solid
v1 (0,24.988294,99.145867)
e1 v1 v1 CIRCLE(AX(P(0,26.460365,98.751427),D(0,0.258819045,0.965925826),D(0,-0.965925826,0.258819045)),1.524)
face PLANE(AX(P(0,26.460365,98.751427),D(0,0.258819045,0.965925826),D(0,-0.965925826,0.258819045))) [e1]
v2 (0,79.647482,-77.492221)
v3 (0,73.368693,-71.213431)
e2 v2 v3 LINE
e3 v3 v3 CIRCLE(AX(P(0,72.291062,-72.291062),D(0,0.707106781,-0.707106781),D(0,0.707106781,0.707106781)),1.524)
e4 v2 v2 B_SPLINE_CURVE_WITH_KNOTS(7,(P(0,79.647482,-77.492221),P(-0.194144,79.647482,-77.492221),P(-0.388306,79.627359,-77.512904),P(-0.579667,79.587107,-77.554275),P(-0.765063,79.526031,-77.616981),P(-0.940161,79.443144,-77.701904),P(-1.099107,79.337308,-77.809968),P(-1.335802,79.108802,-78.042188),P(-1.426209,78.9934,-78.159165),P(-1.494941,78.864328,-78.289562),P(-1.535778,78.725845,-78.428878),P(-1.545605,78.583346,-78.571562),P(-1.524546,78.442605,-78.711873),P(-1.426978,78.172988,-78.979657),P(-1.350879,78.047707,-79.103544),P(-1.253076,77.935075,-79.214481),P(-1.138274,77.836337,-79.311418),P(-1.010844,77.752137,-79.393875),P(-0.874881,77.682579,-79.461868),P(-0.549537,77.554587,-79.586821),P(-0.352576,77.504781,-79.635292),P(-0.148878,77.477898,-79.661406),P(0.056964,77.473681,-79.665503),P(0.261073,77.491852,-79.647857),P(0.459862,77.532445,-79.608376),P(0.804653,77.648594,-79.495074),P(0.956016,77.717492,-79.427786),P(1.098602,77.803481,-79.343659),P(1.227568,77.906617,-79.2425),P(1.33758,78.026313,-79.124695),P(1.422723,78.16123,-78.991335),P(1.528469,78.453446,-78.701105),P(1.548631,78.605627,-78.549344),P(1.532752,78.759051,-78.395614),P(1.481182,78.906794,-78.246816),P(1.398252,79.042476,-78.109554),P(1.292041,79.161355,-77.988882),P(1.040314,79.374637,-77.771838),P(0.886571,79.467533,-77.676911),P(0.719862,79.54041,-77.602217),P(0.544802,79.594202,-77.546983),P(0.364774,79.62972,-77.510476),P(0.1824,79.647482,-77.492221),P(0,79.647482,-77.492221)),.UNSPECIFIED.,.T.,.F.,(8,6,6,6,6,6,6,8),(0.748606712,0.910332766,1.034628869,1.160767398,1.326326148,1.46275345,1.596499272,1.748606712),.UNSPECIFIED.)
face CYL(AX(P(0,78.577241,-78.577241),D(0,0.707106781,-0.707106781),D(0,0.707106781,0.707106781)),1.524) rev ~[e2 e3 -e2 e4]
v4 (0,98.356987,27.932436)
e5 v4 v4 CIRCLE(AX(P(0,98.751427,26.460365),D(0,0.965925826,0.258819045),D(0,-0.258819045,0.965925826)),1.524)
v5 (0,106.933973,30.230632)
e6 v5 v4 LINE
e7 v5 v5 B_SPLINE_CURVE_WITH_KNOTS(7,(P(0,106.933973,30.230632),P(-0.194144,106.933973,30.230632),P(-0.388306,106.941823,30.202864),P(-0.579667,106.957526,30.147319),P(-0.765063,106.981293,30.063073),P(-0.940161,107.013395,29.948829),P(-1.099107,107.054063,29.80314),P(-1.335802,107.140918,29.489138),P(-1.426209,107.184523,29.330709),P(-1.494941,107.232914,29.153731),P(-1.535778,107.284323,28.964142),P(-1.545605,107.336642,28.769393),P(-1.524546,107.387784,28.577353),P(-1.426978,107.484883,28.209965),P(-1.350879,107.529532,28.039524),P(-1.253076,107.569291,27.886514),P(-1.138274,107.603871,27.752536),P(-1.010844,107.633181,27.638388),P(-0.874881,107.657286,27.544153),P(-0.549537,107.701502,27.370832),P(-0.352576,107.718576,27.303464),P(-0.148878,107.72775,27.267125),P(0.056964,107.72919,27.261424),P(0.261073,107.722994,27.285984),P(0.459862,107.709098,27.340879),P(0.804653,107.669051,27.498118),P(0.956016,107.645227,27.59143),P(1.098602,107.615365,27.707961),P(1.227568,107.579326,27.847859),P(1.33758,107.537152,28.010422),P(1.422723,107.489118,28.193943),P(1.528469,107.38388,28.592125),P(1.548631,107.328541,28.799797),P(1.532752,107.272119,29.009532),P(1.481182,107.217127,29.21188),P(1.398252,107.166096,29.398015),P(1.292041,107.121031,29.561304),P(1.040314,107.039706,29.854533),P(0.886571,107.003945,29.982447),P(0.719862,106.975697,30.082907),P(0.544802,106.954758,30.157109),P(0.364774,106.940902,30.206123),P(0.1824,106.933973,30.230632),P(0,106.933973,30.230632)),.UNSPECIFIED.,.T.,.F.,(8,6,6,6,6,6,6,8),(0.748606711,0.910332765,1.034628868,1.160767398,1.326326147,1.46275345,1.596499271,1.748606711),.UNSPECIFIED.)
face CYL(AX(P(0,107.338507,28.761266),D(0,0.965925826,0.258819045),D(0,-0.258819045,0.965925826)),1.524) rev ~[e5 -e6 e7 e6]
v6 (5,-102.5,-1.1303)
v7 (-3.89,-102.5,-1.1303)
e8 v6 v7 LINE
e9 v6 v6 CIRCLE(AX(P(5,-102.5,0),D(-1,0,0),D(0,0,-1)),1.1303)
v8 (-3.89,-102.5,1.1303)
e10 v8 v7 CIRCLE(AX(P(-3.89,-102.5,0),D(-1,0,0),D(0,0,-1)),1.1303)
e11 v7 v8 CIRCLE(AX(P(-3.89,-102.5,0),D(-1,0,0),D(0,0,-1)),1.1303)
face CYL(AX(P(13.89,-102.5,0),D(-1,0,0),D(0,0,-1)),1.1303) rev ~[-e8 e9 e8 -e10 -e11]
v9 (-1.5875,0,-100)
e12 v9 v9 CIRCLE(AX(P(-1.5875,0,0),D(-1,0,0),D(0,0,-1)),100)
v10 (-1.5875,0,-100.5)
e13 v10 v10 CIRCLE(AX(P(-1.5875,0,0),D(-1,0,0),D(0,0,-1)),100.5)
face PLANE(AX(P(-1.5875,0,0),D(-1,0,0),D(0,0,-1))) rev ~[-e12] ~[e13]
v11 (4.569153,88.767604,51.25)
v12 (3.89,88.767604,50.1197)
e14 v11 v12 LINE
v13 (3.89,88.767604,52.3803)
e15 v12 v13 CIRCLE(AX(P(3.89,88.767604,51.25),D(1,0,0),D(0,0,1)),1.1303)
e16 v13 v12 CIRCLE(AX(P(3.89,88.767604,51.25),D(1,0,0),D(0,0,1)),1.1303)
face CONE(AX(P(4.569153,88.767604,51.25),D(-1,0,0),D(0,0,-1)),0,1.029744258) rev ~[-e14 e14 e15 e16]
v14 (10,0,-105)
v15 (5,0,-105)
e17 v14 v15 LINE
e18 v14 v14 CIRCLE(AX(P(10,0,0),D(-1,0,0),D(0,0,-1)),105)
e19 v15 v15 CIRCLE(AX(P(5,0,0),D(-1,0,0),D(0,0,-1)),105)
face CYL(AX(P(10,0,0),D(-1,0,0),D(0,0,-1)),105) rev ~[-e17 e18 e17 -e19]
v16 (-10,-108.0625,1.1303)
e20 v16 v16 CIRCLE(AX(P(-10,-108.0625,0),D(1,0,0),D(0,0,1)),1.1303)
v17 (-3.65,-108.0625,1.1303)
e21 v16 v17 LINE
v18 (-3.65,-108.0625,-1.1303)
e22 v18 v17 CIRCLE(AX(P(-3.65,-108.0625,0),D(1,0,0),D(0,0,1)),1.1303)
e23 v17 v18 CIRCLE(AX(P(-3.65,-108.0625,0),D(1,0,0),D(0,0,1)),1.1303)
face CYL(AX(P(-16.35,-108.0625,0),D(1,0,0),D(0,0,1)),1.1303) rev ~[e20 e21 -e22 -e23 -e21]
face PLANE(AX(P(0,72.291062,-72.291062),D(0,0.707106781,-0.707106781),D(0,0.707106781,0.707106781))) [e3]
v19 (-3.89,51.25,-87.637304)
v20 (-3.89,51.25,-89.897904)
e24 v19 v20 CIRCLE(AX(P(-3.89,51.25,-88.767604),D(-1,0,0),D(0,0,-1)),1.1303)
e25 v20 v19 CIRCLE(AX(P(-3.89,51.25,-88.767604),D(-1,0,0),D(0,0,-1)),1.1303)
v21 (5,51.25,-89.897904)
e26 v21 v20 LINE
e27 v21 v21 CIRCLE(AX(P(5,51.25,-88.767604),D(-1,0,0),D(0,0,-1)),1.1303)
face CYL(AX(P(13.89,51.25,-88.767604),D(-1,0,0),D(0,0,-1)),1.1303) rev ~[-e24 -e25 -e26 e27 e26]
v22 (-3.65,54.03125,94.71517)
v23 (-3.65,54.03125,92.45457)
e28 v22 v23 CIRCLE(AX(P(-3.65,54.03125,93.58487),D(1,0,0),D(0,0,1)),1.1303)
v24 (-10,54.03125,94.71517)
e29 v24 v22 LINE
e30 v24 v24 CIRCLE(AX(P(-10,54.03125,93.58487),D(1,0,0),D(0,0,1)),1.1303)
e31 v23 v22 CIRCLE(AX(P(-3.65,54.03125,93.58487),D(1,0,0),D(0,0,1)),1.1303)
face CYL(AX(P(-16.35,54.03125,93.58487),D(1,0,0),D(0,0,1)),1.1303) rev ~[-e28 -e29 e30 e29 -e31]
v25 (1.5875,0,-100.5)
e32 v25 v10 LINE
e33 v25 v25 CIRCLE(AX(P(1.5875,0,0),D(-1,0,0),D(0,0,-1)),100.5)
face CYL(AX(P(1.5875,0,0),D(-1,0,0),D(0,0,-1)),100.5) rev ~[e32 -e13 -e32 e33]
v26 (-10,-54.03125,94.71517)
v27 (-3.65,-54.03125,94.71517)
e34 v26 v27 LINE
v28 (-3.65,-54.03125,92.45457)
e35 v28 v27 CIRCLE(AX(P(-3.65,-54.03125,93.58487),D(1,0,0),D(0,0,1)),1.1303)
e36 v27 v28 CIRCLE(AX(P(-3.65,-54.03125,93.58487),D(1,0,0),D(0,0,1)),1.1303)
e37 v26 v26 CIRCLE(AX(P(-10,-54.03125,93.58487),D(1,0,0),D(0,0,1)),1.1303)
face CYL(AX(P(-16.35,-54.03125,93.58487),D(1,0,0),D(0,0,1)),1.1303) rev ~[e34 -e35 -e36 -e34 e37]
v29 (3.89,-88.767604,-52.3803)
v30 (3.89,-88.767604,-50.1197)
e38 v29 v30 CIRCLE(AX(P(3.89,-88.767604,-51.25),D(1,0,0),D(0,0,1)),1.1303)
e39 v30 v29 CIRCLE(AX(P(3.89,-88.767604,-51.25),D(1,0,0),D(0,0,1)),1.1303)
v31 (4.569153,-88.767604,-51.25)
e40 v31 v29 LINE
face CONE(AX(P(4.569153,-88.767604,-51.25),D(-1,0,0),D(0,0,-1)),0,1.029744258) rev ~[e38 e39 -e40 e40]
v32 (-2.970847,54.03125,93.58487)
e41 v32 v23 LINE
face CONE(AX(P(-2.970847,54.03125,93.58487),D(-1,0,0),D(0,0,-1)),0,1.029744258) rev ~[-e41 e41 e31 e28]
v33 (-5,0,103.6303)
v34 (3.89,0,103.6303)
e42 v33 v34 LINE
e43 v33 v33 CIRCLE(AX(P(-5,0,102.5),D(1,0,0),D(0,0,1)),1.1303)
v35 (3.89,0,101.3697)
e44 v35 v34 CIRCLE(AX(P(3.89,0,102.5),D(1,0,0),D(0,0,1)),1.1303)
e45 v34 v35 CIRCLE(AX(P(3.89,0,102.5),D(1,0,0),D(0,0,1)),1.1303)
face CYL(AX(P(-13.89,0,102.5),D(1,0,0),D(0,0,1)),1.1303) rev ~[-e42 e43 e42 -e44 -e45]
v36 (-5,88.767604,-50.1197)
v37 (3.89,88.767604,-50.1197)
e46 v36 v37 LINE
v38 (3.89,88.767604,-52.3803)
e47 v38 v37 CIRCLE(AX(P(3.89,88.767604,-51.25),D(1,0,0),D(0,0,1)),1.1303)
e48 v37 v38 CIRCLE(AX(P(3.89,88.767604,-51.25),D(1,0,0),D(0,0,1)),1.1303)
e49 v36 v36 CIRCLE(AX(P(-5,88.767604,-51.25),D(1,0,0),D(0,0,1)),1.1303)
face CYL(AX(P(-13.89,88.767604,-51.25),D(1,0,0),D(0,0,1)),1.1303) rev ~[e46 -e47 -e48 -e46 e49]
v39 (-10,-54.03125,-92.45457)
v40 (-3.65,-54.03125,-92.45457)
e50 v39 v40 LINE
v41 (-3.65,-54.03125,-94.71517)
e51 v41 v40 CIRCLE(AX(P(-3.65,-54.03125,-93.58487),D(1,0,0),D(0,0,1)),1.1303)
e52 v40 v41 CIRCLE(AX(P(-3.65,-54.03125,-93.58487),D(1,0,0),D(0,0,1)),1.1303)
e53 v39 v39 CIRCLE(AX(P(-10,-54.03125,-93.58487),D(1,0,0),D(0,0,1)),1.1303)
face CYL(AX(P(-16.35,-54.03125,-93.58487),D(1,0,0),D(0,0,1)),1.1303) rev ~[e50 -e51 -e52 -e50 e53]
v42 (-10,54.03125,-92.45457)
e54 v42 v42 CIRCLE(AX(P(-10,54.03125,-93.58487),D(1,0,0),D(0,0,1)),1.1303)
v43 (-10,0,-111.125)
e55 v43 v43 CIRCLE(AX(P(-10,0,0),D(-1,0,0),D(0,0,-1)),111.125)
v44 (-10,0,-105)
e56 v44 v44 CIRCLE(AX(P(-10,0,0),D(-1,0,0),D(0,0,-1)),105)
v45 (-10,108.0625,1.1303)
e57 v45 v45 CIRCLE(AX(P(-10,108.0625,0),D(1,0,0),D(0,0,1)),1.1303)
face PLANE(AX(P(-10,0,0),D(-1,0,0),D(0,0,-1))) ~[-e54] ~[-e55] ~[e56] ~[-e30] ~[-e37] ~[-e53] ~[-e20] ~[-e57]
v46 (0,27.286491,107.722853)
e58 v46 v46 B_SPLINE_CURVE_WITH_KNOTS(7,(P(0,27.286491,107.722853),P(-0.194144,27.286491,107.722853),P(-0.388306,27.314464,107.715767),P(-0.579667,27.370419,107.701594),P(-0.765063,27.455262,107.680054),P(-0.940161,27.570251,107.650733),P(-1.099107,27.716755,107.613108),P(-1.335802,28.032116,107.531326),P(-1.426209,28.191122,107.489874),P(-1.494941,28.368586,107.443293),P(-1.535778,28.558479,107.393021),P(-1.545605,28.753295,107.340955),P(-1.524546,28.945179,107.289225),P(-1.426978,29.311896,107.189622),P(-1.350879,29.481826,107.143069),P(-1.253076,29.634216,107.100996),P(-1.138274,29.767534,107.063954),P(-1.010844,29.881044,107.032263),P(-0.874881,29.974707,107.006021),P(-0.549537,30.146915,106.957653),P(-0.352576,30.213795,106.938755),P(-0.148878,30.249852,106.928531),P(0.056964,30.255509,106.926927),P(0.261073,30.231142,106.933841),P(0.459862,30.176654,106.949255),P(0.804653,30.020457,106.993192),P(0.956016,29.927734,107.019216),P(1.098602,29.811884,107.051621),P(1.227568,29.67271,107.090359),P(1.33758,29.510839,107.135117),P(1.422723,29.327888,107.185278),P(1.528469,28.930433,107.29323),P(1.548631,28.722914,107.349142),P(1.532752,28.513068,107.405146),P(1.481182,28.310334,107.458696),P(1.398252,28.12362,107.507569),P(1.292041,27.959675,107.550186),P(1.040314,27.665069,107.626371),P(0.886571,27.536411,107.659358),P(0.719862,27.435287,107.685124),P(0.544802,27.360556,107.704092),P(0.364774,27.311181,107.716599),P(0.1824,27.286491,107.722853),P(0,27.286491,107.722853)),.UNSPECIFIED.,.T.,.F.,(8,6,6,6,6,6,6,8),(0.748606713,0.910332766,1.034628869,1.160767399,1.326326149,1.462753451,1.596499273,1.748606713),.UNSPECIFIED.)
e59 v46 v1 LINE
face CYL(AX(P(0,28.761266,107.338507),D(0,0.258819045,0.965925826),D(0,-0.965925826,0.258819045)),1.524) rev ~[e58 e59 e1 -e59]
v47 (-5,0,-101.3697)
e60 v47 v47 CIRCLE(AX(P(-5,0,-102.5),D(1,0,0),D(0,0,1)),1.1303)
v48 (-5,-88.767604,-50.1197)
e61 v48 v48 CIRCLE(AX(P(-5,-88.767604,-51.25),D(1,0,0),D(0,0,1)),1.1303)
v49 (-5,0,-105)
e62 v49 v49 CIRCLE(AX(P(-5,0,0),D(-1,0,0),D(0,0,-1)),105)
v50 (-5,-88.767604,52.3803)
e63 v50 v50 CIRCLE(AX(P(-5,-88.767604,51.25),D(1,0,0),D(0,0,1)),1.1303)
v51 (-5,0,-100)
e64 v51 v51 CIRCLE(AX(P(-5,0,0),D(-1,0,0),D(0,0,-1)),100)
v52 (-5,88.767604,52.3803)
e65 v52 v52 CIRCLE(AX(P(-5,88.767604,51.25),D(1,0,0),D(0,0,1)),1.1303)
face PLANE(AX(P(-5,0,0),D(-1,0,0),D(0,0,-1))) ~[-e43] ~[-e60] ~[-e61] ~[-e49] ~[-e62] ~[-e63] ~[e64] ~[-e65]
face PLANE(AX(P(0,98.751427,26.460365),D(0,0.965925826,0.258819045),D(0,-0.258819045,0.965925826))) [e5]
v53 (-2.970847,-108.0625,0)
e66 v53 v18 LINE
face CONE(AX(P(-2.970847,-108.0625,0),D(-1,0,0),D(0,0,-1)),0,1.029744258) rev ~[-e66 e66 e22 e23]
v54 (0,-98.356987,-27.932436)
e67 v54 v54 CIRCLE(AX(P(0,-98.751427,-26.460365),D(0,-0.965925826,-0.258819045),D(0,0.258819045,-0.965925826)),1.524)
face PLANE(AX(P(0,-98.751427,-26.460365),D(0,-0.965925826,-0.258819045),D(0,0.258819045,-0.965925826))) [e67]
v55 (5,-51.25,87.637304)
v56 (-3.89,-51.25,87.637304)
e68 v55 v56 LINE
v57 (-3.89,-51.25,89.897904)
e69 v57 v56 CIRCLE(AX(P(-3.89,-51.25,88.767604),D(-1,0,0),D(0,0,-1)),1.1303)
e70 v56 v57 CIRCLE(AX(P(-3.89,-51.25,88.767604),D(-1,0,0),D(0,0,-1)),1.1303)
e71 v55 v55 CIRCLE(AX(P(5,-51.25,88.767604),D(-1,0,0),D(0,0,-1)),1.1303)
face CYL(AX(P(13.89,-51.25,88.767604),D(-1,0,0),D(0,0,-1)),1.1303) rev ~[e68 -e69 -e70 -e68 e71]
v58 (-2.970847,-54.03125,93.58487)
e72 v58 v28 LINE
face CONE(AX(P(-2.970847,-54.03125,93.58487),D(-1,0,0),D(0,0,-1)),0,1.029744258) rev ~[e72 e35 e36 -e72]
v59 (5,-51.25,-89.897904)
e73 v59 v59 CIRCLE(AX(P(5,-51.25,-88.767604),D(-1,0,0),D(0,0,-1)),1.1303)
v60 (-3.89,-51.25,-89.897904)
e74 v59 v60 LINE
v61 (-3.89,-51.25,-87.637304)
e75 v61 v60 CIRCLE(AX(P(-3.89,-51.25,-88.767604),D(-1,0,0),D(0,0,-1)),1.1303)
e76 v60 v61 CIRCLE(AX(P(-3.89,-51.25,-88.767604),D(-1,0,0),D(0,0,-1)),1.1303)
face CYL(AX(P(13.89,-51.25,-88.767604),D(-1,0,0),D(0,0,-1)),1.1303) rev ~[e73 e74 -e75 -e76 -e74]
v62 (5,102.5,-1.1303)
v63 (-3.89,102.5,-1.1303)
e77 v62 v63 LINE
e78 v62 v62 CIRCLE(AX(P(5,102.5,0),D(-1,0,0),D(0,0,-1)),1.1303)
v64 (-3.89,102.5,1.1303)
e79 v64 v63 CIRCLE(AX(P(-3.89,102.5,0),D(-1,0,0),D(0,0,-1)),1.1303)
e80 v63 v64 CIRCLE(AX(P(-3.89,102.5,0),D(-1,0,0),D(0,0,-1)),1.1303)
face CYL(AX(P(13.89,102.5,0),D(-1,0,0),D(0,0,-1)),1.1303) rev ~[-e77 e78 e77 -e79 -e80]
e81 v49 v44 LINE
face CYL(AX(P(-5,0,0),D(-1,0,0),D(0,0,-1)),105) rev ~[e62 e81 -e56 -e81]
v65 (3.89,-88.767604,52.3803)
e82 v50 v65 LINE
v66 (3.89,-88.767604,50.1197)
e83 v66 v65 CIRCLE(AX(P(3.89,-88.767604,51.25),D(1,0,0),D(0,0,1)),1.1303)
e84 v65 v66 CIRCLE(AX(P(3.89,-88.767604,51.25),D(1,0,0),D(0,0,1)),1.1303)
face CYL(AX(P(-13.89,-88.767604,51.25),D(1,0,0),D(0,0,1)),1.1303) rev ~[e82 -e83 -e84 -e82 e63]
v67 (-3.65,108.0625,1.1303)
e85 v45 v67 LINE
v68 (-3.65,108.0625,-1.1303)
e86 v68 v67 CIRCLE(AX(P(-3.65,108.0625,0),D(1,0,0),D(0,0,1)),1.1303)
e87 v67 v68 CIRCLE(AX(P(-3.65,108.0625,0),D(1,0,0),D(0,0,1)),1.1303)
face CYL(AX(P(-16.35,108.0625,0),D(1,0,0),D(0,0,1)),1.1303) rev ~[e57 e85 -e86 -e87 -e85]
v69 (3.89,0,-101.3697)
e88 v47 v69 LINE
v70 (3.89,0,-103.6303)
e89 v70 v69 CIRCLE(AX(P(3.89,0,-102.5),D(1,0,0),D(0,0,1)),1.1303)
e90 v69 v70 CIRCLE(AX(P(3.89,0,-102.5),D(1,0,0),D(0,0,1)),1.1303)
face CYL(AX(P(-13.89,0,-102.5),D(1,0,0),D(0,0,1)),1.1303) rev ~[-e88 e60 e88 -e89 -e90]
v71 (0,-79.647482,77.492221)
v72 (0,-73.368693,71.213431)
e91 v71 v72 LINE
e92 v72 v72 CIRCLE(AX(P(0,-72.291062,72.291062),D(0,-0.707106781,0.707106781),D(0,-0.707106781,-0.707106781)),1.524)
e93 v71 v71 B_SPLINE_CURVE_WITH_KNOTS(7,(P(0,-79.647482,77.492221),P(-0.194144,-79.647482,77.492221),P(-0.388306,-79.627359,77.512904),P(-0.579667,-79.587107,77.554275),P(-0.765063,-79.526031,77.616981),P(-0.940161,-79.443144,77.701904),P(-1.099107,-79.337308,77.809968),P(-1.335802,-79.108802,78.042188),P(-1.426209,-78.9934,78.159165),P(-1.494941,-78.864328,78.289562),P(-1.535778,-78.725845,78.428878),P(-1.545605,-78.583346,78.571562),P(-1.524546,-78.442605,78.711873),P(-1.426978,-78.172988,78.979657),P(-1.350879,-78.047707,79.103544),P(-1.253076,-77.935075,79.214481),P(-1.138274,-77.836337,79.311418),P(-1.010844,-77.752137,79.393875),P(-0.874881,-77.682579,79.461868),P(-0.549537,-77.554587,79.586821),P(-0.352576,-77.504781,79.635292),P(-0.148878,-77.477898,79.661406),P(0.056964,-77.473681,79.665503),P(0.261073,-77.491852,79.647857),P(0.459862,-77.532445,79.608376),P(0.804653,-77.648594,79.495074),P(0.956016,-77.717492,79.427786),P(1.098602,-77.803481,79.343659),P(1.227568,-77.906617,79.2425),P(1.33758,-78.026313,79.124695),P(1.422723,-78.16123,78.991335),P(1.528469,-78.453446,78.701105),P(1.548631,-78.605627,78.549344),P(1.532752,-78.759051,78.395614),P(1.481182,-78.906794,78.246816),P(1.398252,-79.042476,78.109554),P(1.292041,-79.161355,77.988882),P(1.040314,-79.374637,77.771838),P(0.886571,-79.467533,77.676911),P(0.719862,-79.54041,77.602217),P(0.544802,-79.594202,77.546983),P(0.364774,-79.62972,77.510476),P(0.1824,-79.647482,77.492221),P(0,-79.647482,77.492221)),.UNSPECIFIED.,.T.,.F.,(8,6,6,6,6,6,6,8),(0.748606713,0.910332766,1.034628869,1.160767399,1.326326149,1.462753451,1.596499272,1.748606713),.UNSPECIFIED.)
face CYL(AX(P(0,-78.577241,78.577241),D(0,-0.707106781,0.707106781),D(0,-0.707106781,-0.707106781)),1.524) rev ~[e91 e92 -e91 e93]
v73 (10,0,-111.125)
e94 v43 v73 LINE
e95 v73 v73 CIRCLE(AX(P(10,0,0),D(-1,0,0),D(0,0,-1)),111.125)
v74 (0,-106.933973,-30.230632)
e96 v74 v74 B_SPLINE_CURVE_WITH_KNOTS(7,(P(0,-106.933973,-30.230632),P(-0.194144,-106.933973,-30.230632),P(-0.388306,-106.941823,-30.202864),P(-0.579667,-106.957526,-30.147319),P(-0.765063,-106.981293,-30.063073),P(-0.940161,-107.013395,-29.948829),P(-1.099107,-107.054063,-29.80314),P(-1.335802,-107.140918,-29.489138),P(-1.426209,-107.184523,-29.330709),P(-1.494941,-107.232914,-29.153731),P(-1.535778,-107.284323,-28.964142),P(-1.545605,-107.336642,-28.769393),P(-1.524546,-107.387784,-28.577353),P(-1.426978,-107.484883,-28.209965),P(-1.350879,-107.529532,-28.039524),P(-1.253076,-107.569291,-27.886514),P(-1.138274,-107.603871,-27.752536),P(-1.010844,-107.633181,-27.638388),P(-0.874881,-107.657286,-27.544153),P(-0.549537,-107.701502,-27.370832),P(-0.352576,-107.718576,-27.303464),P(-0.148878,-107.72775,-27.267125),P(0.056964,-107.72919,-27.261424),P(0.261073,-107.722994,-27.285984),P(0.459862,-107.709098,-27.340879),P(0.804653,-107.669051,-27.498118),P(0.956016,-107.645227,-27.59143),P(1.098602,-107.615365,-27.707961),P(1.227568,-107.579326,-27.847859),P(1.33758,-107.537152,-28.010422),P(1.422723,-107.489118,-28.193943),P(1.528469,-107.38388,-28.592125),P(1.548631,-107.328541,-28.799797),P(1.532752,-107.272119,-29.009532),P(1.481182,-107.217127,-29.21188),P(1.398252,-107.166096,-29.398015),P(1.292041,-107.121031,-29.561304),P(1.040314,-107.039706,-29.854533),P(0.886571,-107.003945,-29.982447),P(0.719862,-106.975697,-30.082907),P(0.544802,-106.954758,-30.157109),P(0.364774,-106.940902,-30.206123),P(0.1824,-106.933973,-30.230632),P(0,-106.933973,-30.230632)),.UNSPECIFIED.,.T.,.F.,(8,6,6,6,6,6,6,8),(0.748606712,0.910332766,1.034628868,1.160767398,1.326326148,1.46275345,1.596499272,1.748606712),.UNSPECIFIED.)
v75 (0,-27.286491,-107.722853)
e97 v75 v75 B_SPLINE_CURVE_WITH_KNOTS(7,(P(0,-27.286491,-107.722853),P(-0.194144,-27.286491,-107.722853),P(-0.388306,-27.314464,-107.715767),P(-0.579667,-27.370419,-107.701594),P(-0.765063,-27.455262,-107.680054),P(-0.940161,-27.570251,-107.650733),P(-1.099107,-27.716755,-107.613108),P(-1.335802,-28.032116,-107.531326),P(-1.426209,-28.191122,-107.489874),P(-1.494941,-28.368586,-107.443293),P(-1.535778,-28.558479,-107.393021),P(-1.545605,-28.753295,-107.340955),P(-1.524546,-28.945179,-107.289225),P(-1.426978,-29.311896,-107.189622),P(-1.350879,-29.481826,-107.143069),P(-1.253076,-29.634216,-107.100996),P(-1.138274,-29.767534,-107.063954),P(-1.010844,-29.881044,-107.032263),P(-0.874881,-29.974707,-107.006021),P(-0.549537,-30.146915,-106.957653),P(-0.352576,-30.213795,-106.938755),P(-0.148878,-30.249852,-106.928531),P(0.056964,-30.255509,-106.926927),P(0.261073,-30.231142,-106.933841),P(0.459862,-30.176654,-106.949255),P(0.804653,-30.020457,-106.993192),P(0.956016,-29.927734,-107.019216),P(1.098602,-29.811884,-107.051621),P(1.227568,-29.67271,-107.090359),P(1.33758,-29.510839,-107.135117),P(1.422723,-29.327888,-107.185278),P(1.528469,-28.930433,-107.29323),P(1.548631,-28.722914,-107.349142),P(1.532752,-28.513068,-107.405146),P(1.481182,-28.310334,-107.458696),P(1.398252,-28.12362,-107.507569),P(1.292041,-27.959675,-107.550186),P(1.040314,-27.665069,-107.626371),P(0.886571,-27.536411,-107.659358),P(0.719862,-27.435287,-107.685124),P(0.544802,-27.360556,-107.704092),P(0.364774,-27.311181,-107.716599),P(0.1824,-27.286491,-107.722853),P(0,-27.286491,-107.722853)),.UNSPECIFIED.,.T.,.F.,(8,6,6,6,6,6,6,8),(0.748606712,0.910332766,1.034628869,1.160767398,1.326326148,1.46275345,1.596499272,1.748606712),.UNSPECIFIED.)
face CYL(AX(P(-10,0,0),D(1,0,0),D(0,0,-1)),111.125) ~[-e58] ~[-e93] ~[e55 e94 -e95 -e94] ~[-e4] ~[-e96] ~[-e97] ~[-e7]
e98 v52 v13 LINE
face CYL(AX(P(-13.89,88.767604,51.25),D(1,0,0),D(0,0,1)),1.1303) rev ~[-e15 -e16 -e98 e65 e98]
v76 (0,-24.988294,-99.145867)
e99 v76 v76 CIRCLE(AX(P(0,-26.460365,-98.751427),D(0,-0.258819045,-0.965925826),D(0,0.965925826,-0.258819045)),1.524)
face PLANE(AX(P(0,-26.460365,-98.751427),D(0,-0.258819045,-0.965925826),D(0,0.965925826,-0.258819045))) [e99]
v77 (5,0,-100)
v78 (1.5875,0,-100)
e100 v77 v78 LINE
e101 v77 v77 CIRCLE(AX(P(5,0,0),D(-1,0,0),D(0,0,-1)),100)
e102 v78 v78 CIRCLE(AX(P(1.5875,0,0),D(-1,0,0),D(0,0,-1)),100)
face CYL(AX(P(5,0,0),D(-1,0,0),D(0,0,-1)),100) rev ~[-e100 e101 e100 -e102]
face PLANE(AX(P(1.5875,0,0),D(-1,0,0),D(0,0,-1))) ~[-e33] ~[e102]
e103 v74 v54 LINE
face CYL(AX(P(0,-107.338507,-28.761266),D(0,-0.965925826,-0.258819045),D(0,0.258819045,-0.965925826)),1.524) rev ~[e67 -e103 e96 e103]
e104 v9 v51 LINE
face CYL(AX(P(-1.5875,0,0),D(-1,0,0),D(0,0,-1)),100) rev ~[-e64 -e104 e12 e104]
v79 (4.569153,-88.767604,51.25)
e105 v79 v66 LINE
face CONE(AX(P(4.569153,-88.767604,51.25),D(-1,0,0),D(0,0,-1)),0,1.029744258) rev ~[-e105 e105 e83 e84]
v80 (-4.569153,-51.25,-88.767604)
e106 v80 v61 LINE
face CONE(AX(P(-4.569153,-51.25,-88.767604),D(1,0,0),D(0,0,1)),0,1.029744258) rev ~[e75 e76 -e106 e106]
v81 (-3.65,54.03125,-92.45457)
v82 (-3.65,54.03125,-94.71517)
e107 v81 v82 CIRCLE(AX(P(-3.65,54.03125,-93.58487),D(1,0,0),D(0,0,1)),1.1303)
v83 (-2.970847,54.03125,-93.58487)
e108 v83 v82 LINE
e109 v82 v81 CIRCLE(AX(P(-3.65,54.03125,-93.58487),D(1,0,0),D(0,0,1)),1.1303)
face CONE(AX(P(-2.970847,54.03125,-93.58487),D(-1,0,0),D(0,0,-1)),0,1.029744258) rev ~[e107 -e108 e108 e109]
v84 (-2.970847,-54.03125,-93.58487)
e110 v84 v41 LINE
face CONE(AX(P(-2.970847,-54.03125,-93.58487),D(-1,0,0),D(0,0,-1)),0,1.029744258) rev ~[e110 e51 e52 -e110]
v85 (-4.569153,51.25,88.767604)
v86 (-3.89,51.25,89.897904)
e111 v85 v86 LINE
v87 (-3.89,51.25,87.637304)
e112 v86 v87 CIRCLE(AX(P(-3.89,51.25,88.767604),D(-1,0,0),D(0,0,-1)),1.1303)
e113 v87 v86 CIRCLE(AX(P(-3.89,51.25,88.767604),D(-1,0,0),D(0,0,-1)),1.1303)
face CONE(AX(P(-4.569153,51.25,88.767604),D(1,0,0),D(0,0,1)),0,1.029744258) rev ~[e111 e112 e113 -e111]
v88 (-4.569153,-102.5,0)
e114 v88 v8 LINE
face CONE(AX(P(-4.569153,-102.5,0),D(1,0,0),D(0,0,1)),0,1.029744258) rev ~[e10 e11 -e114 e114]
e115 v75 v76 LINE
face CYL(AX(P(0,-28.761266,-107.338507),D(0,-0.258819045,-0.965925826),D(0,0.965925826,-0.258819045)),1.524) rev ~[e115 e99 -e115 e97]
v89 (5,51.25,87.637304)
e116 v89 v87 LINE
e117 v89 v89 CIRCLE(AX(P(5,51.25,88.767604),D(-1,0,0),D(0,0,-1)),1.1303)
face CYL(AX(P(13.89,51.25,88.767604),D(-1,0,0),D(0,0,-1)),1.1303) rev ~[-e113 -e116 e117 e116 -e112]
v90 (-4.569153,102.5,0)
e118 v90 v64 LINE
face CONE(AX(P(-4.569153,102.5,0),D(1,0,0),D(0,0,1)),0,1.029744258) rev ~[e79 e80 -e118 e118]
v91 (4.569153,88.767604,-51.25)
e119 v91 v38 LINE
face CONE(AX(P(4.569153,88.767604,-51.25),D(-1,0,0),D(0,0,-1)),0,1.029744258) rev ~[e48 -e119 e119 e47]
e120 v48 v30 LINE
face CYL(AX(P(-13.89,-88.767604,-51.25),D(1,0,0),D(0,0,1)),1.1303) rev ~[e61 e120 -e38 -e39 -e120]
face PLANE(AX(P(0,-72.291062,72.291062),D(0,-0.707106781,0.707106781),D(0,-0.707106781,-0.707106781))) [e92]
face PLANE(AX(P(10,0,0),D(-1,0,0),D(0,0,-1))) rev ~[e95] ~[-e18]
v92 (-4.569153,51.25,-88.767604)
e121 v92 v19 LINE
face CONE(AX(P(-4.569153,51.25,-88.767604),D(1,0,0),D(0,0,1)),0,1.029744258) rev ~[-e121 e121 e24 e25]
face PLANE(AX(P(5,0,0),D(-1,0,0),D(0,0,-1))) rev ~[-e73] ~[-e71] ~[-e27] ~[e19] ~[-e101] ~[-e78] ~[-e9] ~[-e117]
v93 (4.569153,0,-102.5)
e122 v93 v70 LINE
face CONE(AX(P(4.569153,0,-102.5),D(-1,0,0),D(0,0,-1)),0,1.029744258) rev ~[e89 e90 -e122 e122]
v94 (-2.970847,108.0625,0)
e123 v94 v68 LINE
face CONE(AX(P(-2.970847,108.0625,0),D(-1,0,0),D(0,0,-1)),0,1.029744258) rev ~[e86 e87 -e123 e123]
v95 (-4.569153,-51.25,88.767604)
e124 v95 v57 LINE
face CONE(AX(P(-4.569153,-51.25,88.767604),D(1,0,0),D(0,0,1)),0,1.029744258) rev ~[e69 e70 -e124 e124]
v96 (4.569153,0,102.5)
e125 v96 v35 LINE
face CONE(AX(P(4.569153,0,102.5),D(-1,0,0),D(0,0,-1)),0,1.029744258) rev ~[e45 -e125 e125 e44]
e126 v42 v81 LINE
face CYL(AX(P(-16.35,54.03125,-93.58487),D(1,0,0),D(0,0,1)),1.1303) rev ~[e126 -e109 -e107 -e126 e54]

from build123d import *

# Parameters (mm, degrees)
TAP_DRILL_FOR_4_40_TAP2_D     = 2.2606
TAP_DRILL_FOR_4_40_TAP2_DEPTH = 8.89
TAP_DRILL_FOR_4_40_TAP2_TIP   = 0.679152758
TAP_DRILL_FOR_4_40_TAP3_D     = 2.2606
TAP_DRILL_FOR_4_40_TAP3_DEPTH = 8.89
TAP_DRILL_FOR_4_40_TAP3_TIP   = 0.679152758
SKETCH9_R                     = 1.524
CUT_EXTRUDE1_DEPTH            = 8.89
CIRPATTERN1_COUNT             = 6
TAP_DRILL_FOR_4_40_TAP1_D     = 2.2606
TAP_DRILL_FOR_4_40_TAP1_DEPTH = 6.35
TAP_DRILL_FOR_4_40_TAP1_TIP   = 0.679152758


with BuildPart() as part:
    # Sketch3 → Revolve1 (revolve)
    with BuildSketch(Plane(origin=(0, 0, 0), x_dir=(1, 0, 0), z_dir=(0, 1, 0))):
        Polygon((-10, -111.125), (10, -111.125), (10, -105), (5, -105), (5, -100), (1.5875, -100), (1.5875, -100.5), (-1.5875, -100.5), (-1.5875, -100), (-5, -100), (-5, -105), (-10, -105), align=None)
    revolve(axis=Axis((0, 0, 0), (-1, 0, 0)))

    # Tap Drill for #4-40 Tap2
    with Locations(Plane(origin=(5, -102.5, 0), x_dir=(0, 0, 1), z_dir=(1, 0, 0))):
        with Locations((0, 0), (-88.767603888, -51.25), (88.767603888, -51.25), (88.767603888, -153.75), (0, -205), (-88.767603888, -153.75)):
            Hole(TAP_DRILL_FOR_4_40_TAP2_D / 2, depth=TAP_DRILL_FOR_4_40_TAP2_DEPTH)
            with Locations((0, 0, -(TAP_DRILL_FOR_4_40_TAP2_DEPTH + TAP_DRILL_FOR_4_40_TAP2_TIP / 2))):  # 118° drill point
                Cone(0, TAP_DRILL_FOR_4_40_TAP2_D / 2, TAP_DRILL_FOR_4_40_TAP2_TIP, mode=Mode.SUBTRACT)

    # Tap Drill for #4-40 Tap3
    with Locations(Plane(origin=(-5, -88.767603888, 51.25), x_dir=(0, 0, -1), z_dir=(-1, 0, 0))):
        with Locations((0, 0), (-51.25, -88.767603888), (102.5, -177.535207776), (0, -177.535207776), (153.75, -88.767603888), (102.5, 0)):
            Hole(TAP_DRILL_FOR_4_40_TAP3_D / 2, depth=TAP_DRILL_FOR_4_40_TAP3_DEPTH)
            with Locations((0, 0, -(TAP_DRILL_FOR_4_40_TAP3_DEPTH + TAP_DRILL_FOR_4_40_TAP3_TIP / 2))):  # 118° drill point
                Cone(0, TAP_DRILL_FOR_4_40_TAP3_D / 2, TAP_DRILL_FOR_4_40_TAP3_TIP, mode=Mode.SUBTRACT)

    # Sketch9 → Cut-Extrude1 (cut)
    with BuildSketch(Plane(origin=(0, 107.338507446, 28.761266387), x_dir=(-1, 0, 0), z_dir=(0, 0.9659258262890681, 0.25881904510252135))):
        Circle(SKETCH9_R)
    cut_extrude1 = extrude(amount=-CUT_EXTRUDE1_DEPTH, mode=Mode.SUBTRACT)

    # CirPattern1: Cut-Extrude1 ×6 about axis
    cirpattern1_axis = Axis((-10, 0, 0), (1, 0, 0))
    for i in range(1, CIRPATTERN1_COUNT):
        add(cut_extrude1.rotate(cirpattern1_axis, i * 360 / CIRPATTERN1_COUNT), mode=Mode.SUBTRACT)

    # Tap Drill for #4-40 Tap1
    with Locations(Plane(origin=(-10, 108.0625, 0), x_dir=(0, 0, -1), z_dir=(-1, 0, 0))):
        with Locations((0, 0), (-93.584870196, 54.03125), (-93.584870196, 162.09375), (0, 216.125), (93.584870196, 162.09375), (93.584870196, 54.03125)):
            Hole(TAP_DRILL_FOR_4_40_TAP1_D / 2, depth=TAP_DRILL_FOR_4_40_TAP1_DEPTH)
            with Locations((0, 0, -(TAP_DRILL_FOR_4_40_TAP1_DEPTH + TAP_DRILL_FOR_4_40_TAP1_TIP / 2))):  # 118° drill point
                Cone(0, TAP_DRILL_FOR_4_40_TAP1_D / 2, TAP_DRILL_FOR_4_40_TAP1_TIP, mode=Mode.SUBTRACT)


solid = part.part
